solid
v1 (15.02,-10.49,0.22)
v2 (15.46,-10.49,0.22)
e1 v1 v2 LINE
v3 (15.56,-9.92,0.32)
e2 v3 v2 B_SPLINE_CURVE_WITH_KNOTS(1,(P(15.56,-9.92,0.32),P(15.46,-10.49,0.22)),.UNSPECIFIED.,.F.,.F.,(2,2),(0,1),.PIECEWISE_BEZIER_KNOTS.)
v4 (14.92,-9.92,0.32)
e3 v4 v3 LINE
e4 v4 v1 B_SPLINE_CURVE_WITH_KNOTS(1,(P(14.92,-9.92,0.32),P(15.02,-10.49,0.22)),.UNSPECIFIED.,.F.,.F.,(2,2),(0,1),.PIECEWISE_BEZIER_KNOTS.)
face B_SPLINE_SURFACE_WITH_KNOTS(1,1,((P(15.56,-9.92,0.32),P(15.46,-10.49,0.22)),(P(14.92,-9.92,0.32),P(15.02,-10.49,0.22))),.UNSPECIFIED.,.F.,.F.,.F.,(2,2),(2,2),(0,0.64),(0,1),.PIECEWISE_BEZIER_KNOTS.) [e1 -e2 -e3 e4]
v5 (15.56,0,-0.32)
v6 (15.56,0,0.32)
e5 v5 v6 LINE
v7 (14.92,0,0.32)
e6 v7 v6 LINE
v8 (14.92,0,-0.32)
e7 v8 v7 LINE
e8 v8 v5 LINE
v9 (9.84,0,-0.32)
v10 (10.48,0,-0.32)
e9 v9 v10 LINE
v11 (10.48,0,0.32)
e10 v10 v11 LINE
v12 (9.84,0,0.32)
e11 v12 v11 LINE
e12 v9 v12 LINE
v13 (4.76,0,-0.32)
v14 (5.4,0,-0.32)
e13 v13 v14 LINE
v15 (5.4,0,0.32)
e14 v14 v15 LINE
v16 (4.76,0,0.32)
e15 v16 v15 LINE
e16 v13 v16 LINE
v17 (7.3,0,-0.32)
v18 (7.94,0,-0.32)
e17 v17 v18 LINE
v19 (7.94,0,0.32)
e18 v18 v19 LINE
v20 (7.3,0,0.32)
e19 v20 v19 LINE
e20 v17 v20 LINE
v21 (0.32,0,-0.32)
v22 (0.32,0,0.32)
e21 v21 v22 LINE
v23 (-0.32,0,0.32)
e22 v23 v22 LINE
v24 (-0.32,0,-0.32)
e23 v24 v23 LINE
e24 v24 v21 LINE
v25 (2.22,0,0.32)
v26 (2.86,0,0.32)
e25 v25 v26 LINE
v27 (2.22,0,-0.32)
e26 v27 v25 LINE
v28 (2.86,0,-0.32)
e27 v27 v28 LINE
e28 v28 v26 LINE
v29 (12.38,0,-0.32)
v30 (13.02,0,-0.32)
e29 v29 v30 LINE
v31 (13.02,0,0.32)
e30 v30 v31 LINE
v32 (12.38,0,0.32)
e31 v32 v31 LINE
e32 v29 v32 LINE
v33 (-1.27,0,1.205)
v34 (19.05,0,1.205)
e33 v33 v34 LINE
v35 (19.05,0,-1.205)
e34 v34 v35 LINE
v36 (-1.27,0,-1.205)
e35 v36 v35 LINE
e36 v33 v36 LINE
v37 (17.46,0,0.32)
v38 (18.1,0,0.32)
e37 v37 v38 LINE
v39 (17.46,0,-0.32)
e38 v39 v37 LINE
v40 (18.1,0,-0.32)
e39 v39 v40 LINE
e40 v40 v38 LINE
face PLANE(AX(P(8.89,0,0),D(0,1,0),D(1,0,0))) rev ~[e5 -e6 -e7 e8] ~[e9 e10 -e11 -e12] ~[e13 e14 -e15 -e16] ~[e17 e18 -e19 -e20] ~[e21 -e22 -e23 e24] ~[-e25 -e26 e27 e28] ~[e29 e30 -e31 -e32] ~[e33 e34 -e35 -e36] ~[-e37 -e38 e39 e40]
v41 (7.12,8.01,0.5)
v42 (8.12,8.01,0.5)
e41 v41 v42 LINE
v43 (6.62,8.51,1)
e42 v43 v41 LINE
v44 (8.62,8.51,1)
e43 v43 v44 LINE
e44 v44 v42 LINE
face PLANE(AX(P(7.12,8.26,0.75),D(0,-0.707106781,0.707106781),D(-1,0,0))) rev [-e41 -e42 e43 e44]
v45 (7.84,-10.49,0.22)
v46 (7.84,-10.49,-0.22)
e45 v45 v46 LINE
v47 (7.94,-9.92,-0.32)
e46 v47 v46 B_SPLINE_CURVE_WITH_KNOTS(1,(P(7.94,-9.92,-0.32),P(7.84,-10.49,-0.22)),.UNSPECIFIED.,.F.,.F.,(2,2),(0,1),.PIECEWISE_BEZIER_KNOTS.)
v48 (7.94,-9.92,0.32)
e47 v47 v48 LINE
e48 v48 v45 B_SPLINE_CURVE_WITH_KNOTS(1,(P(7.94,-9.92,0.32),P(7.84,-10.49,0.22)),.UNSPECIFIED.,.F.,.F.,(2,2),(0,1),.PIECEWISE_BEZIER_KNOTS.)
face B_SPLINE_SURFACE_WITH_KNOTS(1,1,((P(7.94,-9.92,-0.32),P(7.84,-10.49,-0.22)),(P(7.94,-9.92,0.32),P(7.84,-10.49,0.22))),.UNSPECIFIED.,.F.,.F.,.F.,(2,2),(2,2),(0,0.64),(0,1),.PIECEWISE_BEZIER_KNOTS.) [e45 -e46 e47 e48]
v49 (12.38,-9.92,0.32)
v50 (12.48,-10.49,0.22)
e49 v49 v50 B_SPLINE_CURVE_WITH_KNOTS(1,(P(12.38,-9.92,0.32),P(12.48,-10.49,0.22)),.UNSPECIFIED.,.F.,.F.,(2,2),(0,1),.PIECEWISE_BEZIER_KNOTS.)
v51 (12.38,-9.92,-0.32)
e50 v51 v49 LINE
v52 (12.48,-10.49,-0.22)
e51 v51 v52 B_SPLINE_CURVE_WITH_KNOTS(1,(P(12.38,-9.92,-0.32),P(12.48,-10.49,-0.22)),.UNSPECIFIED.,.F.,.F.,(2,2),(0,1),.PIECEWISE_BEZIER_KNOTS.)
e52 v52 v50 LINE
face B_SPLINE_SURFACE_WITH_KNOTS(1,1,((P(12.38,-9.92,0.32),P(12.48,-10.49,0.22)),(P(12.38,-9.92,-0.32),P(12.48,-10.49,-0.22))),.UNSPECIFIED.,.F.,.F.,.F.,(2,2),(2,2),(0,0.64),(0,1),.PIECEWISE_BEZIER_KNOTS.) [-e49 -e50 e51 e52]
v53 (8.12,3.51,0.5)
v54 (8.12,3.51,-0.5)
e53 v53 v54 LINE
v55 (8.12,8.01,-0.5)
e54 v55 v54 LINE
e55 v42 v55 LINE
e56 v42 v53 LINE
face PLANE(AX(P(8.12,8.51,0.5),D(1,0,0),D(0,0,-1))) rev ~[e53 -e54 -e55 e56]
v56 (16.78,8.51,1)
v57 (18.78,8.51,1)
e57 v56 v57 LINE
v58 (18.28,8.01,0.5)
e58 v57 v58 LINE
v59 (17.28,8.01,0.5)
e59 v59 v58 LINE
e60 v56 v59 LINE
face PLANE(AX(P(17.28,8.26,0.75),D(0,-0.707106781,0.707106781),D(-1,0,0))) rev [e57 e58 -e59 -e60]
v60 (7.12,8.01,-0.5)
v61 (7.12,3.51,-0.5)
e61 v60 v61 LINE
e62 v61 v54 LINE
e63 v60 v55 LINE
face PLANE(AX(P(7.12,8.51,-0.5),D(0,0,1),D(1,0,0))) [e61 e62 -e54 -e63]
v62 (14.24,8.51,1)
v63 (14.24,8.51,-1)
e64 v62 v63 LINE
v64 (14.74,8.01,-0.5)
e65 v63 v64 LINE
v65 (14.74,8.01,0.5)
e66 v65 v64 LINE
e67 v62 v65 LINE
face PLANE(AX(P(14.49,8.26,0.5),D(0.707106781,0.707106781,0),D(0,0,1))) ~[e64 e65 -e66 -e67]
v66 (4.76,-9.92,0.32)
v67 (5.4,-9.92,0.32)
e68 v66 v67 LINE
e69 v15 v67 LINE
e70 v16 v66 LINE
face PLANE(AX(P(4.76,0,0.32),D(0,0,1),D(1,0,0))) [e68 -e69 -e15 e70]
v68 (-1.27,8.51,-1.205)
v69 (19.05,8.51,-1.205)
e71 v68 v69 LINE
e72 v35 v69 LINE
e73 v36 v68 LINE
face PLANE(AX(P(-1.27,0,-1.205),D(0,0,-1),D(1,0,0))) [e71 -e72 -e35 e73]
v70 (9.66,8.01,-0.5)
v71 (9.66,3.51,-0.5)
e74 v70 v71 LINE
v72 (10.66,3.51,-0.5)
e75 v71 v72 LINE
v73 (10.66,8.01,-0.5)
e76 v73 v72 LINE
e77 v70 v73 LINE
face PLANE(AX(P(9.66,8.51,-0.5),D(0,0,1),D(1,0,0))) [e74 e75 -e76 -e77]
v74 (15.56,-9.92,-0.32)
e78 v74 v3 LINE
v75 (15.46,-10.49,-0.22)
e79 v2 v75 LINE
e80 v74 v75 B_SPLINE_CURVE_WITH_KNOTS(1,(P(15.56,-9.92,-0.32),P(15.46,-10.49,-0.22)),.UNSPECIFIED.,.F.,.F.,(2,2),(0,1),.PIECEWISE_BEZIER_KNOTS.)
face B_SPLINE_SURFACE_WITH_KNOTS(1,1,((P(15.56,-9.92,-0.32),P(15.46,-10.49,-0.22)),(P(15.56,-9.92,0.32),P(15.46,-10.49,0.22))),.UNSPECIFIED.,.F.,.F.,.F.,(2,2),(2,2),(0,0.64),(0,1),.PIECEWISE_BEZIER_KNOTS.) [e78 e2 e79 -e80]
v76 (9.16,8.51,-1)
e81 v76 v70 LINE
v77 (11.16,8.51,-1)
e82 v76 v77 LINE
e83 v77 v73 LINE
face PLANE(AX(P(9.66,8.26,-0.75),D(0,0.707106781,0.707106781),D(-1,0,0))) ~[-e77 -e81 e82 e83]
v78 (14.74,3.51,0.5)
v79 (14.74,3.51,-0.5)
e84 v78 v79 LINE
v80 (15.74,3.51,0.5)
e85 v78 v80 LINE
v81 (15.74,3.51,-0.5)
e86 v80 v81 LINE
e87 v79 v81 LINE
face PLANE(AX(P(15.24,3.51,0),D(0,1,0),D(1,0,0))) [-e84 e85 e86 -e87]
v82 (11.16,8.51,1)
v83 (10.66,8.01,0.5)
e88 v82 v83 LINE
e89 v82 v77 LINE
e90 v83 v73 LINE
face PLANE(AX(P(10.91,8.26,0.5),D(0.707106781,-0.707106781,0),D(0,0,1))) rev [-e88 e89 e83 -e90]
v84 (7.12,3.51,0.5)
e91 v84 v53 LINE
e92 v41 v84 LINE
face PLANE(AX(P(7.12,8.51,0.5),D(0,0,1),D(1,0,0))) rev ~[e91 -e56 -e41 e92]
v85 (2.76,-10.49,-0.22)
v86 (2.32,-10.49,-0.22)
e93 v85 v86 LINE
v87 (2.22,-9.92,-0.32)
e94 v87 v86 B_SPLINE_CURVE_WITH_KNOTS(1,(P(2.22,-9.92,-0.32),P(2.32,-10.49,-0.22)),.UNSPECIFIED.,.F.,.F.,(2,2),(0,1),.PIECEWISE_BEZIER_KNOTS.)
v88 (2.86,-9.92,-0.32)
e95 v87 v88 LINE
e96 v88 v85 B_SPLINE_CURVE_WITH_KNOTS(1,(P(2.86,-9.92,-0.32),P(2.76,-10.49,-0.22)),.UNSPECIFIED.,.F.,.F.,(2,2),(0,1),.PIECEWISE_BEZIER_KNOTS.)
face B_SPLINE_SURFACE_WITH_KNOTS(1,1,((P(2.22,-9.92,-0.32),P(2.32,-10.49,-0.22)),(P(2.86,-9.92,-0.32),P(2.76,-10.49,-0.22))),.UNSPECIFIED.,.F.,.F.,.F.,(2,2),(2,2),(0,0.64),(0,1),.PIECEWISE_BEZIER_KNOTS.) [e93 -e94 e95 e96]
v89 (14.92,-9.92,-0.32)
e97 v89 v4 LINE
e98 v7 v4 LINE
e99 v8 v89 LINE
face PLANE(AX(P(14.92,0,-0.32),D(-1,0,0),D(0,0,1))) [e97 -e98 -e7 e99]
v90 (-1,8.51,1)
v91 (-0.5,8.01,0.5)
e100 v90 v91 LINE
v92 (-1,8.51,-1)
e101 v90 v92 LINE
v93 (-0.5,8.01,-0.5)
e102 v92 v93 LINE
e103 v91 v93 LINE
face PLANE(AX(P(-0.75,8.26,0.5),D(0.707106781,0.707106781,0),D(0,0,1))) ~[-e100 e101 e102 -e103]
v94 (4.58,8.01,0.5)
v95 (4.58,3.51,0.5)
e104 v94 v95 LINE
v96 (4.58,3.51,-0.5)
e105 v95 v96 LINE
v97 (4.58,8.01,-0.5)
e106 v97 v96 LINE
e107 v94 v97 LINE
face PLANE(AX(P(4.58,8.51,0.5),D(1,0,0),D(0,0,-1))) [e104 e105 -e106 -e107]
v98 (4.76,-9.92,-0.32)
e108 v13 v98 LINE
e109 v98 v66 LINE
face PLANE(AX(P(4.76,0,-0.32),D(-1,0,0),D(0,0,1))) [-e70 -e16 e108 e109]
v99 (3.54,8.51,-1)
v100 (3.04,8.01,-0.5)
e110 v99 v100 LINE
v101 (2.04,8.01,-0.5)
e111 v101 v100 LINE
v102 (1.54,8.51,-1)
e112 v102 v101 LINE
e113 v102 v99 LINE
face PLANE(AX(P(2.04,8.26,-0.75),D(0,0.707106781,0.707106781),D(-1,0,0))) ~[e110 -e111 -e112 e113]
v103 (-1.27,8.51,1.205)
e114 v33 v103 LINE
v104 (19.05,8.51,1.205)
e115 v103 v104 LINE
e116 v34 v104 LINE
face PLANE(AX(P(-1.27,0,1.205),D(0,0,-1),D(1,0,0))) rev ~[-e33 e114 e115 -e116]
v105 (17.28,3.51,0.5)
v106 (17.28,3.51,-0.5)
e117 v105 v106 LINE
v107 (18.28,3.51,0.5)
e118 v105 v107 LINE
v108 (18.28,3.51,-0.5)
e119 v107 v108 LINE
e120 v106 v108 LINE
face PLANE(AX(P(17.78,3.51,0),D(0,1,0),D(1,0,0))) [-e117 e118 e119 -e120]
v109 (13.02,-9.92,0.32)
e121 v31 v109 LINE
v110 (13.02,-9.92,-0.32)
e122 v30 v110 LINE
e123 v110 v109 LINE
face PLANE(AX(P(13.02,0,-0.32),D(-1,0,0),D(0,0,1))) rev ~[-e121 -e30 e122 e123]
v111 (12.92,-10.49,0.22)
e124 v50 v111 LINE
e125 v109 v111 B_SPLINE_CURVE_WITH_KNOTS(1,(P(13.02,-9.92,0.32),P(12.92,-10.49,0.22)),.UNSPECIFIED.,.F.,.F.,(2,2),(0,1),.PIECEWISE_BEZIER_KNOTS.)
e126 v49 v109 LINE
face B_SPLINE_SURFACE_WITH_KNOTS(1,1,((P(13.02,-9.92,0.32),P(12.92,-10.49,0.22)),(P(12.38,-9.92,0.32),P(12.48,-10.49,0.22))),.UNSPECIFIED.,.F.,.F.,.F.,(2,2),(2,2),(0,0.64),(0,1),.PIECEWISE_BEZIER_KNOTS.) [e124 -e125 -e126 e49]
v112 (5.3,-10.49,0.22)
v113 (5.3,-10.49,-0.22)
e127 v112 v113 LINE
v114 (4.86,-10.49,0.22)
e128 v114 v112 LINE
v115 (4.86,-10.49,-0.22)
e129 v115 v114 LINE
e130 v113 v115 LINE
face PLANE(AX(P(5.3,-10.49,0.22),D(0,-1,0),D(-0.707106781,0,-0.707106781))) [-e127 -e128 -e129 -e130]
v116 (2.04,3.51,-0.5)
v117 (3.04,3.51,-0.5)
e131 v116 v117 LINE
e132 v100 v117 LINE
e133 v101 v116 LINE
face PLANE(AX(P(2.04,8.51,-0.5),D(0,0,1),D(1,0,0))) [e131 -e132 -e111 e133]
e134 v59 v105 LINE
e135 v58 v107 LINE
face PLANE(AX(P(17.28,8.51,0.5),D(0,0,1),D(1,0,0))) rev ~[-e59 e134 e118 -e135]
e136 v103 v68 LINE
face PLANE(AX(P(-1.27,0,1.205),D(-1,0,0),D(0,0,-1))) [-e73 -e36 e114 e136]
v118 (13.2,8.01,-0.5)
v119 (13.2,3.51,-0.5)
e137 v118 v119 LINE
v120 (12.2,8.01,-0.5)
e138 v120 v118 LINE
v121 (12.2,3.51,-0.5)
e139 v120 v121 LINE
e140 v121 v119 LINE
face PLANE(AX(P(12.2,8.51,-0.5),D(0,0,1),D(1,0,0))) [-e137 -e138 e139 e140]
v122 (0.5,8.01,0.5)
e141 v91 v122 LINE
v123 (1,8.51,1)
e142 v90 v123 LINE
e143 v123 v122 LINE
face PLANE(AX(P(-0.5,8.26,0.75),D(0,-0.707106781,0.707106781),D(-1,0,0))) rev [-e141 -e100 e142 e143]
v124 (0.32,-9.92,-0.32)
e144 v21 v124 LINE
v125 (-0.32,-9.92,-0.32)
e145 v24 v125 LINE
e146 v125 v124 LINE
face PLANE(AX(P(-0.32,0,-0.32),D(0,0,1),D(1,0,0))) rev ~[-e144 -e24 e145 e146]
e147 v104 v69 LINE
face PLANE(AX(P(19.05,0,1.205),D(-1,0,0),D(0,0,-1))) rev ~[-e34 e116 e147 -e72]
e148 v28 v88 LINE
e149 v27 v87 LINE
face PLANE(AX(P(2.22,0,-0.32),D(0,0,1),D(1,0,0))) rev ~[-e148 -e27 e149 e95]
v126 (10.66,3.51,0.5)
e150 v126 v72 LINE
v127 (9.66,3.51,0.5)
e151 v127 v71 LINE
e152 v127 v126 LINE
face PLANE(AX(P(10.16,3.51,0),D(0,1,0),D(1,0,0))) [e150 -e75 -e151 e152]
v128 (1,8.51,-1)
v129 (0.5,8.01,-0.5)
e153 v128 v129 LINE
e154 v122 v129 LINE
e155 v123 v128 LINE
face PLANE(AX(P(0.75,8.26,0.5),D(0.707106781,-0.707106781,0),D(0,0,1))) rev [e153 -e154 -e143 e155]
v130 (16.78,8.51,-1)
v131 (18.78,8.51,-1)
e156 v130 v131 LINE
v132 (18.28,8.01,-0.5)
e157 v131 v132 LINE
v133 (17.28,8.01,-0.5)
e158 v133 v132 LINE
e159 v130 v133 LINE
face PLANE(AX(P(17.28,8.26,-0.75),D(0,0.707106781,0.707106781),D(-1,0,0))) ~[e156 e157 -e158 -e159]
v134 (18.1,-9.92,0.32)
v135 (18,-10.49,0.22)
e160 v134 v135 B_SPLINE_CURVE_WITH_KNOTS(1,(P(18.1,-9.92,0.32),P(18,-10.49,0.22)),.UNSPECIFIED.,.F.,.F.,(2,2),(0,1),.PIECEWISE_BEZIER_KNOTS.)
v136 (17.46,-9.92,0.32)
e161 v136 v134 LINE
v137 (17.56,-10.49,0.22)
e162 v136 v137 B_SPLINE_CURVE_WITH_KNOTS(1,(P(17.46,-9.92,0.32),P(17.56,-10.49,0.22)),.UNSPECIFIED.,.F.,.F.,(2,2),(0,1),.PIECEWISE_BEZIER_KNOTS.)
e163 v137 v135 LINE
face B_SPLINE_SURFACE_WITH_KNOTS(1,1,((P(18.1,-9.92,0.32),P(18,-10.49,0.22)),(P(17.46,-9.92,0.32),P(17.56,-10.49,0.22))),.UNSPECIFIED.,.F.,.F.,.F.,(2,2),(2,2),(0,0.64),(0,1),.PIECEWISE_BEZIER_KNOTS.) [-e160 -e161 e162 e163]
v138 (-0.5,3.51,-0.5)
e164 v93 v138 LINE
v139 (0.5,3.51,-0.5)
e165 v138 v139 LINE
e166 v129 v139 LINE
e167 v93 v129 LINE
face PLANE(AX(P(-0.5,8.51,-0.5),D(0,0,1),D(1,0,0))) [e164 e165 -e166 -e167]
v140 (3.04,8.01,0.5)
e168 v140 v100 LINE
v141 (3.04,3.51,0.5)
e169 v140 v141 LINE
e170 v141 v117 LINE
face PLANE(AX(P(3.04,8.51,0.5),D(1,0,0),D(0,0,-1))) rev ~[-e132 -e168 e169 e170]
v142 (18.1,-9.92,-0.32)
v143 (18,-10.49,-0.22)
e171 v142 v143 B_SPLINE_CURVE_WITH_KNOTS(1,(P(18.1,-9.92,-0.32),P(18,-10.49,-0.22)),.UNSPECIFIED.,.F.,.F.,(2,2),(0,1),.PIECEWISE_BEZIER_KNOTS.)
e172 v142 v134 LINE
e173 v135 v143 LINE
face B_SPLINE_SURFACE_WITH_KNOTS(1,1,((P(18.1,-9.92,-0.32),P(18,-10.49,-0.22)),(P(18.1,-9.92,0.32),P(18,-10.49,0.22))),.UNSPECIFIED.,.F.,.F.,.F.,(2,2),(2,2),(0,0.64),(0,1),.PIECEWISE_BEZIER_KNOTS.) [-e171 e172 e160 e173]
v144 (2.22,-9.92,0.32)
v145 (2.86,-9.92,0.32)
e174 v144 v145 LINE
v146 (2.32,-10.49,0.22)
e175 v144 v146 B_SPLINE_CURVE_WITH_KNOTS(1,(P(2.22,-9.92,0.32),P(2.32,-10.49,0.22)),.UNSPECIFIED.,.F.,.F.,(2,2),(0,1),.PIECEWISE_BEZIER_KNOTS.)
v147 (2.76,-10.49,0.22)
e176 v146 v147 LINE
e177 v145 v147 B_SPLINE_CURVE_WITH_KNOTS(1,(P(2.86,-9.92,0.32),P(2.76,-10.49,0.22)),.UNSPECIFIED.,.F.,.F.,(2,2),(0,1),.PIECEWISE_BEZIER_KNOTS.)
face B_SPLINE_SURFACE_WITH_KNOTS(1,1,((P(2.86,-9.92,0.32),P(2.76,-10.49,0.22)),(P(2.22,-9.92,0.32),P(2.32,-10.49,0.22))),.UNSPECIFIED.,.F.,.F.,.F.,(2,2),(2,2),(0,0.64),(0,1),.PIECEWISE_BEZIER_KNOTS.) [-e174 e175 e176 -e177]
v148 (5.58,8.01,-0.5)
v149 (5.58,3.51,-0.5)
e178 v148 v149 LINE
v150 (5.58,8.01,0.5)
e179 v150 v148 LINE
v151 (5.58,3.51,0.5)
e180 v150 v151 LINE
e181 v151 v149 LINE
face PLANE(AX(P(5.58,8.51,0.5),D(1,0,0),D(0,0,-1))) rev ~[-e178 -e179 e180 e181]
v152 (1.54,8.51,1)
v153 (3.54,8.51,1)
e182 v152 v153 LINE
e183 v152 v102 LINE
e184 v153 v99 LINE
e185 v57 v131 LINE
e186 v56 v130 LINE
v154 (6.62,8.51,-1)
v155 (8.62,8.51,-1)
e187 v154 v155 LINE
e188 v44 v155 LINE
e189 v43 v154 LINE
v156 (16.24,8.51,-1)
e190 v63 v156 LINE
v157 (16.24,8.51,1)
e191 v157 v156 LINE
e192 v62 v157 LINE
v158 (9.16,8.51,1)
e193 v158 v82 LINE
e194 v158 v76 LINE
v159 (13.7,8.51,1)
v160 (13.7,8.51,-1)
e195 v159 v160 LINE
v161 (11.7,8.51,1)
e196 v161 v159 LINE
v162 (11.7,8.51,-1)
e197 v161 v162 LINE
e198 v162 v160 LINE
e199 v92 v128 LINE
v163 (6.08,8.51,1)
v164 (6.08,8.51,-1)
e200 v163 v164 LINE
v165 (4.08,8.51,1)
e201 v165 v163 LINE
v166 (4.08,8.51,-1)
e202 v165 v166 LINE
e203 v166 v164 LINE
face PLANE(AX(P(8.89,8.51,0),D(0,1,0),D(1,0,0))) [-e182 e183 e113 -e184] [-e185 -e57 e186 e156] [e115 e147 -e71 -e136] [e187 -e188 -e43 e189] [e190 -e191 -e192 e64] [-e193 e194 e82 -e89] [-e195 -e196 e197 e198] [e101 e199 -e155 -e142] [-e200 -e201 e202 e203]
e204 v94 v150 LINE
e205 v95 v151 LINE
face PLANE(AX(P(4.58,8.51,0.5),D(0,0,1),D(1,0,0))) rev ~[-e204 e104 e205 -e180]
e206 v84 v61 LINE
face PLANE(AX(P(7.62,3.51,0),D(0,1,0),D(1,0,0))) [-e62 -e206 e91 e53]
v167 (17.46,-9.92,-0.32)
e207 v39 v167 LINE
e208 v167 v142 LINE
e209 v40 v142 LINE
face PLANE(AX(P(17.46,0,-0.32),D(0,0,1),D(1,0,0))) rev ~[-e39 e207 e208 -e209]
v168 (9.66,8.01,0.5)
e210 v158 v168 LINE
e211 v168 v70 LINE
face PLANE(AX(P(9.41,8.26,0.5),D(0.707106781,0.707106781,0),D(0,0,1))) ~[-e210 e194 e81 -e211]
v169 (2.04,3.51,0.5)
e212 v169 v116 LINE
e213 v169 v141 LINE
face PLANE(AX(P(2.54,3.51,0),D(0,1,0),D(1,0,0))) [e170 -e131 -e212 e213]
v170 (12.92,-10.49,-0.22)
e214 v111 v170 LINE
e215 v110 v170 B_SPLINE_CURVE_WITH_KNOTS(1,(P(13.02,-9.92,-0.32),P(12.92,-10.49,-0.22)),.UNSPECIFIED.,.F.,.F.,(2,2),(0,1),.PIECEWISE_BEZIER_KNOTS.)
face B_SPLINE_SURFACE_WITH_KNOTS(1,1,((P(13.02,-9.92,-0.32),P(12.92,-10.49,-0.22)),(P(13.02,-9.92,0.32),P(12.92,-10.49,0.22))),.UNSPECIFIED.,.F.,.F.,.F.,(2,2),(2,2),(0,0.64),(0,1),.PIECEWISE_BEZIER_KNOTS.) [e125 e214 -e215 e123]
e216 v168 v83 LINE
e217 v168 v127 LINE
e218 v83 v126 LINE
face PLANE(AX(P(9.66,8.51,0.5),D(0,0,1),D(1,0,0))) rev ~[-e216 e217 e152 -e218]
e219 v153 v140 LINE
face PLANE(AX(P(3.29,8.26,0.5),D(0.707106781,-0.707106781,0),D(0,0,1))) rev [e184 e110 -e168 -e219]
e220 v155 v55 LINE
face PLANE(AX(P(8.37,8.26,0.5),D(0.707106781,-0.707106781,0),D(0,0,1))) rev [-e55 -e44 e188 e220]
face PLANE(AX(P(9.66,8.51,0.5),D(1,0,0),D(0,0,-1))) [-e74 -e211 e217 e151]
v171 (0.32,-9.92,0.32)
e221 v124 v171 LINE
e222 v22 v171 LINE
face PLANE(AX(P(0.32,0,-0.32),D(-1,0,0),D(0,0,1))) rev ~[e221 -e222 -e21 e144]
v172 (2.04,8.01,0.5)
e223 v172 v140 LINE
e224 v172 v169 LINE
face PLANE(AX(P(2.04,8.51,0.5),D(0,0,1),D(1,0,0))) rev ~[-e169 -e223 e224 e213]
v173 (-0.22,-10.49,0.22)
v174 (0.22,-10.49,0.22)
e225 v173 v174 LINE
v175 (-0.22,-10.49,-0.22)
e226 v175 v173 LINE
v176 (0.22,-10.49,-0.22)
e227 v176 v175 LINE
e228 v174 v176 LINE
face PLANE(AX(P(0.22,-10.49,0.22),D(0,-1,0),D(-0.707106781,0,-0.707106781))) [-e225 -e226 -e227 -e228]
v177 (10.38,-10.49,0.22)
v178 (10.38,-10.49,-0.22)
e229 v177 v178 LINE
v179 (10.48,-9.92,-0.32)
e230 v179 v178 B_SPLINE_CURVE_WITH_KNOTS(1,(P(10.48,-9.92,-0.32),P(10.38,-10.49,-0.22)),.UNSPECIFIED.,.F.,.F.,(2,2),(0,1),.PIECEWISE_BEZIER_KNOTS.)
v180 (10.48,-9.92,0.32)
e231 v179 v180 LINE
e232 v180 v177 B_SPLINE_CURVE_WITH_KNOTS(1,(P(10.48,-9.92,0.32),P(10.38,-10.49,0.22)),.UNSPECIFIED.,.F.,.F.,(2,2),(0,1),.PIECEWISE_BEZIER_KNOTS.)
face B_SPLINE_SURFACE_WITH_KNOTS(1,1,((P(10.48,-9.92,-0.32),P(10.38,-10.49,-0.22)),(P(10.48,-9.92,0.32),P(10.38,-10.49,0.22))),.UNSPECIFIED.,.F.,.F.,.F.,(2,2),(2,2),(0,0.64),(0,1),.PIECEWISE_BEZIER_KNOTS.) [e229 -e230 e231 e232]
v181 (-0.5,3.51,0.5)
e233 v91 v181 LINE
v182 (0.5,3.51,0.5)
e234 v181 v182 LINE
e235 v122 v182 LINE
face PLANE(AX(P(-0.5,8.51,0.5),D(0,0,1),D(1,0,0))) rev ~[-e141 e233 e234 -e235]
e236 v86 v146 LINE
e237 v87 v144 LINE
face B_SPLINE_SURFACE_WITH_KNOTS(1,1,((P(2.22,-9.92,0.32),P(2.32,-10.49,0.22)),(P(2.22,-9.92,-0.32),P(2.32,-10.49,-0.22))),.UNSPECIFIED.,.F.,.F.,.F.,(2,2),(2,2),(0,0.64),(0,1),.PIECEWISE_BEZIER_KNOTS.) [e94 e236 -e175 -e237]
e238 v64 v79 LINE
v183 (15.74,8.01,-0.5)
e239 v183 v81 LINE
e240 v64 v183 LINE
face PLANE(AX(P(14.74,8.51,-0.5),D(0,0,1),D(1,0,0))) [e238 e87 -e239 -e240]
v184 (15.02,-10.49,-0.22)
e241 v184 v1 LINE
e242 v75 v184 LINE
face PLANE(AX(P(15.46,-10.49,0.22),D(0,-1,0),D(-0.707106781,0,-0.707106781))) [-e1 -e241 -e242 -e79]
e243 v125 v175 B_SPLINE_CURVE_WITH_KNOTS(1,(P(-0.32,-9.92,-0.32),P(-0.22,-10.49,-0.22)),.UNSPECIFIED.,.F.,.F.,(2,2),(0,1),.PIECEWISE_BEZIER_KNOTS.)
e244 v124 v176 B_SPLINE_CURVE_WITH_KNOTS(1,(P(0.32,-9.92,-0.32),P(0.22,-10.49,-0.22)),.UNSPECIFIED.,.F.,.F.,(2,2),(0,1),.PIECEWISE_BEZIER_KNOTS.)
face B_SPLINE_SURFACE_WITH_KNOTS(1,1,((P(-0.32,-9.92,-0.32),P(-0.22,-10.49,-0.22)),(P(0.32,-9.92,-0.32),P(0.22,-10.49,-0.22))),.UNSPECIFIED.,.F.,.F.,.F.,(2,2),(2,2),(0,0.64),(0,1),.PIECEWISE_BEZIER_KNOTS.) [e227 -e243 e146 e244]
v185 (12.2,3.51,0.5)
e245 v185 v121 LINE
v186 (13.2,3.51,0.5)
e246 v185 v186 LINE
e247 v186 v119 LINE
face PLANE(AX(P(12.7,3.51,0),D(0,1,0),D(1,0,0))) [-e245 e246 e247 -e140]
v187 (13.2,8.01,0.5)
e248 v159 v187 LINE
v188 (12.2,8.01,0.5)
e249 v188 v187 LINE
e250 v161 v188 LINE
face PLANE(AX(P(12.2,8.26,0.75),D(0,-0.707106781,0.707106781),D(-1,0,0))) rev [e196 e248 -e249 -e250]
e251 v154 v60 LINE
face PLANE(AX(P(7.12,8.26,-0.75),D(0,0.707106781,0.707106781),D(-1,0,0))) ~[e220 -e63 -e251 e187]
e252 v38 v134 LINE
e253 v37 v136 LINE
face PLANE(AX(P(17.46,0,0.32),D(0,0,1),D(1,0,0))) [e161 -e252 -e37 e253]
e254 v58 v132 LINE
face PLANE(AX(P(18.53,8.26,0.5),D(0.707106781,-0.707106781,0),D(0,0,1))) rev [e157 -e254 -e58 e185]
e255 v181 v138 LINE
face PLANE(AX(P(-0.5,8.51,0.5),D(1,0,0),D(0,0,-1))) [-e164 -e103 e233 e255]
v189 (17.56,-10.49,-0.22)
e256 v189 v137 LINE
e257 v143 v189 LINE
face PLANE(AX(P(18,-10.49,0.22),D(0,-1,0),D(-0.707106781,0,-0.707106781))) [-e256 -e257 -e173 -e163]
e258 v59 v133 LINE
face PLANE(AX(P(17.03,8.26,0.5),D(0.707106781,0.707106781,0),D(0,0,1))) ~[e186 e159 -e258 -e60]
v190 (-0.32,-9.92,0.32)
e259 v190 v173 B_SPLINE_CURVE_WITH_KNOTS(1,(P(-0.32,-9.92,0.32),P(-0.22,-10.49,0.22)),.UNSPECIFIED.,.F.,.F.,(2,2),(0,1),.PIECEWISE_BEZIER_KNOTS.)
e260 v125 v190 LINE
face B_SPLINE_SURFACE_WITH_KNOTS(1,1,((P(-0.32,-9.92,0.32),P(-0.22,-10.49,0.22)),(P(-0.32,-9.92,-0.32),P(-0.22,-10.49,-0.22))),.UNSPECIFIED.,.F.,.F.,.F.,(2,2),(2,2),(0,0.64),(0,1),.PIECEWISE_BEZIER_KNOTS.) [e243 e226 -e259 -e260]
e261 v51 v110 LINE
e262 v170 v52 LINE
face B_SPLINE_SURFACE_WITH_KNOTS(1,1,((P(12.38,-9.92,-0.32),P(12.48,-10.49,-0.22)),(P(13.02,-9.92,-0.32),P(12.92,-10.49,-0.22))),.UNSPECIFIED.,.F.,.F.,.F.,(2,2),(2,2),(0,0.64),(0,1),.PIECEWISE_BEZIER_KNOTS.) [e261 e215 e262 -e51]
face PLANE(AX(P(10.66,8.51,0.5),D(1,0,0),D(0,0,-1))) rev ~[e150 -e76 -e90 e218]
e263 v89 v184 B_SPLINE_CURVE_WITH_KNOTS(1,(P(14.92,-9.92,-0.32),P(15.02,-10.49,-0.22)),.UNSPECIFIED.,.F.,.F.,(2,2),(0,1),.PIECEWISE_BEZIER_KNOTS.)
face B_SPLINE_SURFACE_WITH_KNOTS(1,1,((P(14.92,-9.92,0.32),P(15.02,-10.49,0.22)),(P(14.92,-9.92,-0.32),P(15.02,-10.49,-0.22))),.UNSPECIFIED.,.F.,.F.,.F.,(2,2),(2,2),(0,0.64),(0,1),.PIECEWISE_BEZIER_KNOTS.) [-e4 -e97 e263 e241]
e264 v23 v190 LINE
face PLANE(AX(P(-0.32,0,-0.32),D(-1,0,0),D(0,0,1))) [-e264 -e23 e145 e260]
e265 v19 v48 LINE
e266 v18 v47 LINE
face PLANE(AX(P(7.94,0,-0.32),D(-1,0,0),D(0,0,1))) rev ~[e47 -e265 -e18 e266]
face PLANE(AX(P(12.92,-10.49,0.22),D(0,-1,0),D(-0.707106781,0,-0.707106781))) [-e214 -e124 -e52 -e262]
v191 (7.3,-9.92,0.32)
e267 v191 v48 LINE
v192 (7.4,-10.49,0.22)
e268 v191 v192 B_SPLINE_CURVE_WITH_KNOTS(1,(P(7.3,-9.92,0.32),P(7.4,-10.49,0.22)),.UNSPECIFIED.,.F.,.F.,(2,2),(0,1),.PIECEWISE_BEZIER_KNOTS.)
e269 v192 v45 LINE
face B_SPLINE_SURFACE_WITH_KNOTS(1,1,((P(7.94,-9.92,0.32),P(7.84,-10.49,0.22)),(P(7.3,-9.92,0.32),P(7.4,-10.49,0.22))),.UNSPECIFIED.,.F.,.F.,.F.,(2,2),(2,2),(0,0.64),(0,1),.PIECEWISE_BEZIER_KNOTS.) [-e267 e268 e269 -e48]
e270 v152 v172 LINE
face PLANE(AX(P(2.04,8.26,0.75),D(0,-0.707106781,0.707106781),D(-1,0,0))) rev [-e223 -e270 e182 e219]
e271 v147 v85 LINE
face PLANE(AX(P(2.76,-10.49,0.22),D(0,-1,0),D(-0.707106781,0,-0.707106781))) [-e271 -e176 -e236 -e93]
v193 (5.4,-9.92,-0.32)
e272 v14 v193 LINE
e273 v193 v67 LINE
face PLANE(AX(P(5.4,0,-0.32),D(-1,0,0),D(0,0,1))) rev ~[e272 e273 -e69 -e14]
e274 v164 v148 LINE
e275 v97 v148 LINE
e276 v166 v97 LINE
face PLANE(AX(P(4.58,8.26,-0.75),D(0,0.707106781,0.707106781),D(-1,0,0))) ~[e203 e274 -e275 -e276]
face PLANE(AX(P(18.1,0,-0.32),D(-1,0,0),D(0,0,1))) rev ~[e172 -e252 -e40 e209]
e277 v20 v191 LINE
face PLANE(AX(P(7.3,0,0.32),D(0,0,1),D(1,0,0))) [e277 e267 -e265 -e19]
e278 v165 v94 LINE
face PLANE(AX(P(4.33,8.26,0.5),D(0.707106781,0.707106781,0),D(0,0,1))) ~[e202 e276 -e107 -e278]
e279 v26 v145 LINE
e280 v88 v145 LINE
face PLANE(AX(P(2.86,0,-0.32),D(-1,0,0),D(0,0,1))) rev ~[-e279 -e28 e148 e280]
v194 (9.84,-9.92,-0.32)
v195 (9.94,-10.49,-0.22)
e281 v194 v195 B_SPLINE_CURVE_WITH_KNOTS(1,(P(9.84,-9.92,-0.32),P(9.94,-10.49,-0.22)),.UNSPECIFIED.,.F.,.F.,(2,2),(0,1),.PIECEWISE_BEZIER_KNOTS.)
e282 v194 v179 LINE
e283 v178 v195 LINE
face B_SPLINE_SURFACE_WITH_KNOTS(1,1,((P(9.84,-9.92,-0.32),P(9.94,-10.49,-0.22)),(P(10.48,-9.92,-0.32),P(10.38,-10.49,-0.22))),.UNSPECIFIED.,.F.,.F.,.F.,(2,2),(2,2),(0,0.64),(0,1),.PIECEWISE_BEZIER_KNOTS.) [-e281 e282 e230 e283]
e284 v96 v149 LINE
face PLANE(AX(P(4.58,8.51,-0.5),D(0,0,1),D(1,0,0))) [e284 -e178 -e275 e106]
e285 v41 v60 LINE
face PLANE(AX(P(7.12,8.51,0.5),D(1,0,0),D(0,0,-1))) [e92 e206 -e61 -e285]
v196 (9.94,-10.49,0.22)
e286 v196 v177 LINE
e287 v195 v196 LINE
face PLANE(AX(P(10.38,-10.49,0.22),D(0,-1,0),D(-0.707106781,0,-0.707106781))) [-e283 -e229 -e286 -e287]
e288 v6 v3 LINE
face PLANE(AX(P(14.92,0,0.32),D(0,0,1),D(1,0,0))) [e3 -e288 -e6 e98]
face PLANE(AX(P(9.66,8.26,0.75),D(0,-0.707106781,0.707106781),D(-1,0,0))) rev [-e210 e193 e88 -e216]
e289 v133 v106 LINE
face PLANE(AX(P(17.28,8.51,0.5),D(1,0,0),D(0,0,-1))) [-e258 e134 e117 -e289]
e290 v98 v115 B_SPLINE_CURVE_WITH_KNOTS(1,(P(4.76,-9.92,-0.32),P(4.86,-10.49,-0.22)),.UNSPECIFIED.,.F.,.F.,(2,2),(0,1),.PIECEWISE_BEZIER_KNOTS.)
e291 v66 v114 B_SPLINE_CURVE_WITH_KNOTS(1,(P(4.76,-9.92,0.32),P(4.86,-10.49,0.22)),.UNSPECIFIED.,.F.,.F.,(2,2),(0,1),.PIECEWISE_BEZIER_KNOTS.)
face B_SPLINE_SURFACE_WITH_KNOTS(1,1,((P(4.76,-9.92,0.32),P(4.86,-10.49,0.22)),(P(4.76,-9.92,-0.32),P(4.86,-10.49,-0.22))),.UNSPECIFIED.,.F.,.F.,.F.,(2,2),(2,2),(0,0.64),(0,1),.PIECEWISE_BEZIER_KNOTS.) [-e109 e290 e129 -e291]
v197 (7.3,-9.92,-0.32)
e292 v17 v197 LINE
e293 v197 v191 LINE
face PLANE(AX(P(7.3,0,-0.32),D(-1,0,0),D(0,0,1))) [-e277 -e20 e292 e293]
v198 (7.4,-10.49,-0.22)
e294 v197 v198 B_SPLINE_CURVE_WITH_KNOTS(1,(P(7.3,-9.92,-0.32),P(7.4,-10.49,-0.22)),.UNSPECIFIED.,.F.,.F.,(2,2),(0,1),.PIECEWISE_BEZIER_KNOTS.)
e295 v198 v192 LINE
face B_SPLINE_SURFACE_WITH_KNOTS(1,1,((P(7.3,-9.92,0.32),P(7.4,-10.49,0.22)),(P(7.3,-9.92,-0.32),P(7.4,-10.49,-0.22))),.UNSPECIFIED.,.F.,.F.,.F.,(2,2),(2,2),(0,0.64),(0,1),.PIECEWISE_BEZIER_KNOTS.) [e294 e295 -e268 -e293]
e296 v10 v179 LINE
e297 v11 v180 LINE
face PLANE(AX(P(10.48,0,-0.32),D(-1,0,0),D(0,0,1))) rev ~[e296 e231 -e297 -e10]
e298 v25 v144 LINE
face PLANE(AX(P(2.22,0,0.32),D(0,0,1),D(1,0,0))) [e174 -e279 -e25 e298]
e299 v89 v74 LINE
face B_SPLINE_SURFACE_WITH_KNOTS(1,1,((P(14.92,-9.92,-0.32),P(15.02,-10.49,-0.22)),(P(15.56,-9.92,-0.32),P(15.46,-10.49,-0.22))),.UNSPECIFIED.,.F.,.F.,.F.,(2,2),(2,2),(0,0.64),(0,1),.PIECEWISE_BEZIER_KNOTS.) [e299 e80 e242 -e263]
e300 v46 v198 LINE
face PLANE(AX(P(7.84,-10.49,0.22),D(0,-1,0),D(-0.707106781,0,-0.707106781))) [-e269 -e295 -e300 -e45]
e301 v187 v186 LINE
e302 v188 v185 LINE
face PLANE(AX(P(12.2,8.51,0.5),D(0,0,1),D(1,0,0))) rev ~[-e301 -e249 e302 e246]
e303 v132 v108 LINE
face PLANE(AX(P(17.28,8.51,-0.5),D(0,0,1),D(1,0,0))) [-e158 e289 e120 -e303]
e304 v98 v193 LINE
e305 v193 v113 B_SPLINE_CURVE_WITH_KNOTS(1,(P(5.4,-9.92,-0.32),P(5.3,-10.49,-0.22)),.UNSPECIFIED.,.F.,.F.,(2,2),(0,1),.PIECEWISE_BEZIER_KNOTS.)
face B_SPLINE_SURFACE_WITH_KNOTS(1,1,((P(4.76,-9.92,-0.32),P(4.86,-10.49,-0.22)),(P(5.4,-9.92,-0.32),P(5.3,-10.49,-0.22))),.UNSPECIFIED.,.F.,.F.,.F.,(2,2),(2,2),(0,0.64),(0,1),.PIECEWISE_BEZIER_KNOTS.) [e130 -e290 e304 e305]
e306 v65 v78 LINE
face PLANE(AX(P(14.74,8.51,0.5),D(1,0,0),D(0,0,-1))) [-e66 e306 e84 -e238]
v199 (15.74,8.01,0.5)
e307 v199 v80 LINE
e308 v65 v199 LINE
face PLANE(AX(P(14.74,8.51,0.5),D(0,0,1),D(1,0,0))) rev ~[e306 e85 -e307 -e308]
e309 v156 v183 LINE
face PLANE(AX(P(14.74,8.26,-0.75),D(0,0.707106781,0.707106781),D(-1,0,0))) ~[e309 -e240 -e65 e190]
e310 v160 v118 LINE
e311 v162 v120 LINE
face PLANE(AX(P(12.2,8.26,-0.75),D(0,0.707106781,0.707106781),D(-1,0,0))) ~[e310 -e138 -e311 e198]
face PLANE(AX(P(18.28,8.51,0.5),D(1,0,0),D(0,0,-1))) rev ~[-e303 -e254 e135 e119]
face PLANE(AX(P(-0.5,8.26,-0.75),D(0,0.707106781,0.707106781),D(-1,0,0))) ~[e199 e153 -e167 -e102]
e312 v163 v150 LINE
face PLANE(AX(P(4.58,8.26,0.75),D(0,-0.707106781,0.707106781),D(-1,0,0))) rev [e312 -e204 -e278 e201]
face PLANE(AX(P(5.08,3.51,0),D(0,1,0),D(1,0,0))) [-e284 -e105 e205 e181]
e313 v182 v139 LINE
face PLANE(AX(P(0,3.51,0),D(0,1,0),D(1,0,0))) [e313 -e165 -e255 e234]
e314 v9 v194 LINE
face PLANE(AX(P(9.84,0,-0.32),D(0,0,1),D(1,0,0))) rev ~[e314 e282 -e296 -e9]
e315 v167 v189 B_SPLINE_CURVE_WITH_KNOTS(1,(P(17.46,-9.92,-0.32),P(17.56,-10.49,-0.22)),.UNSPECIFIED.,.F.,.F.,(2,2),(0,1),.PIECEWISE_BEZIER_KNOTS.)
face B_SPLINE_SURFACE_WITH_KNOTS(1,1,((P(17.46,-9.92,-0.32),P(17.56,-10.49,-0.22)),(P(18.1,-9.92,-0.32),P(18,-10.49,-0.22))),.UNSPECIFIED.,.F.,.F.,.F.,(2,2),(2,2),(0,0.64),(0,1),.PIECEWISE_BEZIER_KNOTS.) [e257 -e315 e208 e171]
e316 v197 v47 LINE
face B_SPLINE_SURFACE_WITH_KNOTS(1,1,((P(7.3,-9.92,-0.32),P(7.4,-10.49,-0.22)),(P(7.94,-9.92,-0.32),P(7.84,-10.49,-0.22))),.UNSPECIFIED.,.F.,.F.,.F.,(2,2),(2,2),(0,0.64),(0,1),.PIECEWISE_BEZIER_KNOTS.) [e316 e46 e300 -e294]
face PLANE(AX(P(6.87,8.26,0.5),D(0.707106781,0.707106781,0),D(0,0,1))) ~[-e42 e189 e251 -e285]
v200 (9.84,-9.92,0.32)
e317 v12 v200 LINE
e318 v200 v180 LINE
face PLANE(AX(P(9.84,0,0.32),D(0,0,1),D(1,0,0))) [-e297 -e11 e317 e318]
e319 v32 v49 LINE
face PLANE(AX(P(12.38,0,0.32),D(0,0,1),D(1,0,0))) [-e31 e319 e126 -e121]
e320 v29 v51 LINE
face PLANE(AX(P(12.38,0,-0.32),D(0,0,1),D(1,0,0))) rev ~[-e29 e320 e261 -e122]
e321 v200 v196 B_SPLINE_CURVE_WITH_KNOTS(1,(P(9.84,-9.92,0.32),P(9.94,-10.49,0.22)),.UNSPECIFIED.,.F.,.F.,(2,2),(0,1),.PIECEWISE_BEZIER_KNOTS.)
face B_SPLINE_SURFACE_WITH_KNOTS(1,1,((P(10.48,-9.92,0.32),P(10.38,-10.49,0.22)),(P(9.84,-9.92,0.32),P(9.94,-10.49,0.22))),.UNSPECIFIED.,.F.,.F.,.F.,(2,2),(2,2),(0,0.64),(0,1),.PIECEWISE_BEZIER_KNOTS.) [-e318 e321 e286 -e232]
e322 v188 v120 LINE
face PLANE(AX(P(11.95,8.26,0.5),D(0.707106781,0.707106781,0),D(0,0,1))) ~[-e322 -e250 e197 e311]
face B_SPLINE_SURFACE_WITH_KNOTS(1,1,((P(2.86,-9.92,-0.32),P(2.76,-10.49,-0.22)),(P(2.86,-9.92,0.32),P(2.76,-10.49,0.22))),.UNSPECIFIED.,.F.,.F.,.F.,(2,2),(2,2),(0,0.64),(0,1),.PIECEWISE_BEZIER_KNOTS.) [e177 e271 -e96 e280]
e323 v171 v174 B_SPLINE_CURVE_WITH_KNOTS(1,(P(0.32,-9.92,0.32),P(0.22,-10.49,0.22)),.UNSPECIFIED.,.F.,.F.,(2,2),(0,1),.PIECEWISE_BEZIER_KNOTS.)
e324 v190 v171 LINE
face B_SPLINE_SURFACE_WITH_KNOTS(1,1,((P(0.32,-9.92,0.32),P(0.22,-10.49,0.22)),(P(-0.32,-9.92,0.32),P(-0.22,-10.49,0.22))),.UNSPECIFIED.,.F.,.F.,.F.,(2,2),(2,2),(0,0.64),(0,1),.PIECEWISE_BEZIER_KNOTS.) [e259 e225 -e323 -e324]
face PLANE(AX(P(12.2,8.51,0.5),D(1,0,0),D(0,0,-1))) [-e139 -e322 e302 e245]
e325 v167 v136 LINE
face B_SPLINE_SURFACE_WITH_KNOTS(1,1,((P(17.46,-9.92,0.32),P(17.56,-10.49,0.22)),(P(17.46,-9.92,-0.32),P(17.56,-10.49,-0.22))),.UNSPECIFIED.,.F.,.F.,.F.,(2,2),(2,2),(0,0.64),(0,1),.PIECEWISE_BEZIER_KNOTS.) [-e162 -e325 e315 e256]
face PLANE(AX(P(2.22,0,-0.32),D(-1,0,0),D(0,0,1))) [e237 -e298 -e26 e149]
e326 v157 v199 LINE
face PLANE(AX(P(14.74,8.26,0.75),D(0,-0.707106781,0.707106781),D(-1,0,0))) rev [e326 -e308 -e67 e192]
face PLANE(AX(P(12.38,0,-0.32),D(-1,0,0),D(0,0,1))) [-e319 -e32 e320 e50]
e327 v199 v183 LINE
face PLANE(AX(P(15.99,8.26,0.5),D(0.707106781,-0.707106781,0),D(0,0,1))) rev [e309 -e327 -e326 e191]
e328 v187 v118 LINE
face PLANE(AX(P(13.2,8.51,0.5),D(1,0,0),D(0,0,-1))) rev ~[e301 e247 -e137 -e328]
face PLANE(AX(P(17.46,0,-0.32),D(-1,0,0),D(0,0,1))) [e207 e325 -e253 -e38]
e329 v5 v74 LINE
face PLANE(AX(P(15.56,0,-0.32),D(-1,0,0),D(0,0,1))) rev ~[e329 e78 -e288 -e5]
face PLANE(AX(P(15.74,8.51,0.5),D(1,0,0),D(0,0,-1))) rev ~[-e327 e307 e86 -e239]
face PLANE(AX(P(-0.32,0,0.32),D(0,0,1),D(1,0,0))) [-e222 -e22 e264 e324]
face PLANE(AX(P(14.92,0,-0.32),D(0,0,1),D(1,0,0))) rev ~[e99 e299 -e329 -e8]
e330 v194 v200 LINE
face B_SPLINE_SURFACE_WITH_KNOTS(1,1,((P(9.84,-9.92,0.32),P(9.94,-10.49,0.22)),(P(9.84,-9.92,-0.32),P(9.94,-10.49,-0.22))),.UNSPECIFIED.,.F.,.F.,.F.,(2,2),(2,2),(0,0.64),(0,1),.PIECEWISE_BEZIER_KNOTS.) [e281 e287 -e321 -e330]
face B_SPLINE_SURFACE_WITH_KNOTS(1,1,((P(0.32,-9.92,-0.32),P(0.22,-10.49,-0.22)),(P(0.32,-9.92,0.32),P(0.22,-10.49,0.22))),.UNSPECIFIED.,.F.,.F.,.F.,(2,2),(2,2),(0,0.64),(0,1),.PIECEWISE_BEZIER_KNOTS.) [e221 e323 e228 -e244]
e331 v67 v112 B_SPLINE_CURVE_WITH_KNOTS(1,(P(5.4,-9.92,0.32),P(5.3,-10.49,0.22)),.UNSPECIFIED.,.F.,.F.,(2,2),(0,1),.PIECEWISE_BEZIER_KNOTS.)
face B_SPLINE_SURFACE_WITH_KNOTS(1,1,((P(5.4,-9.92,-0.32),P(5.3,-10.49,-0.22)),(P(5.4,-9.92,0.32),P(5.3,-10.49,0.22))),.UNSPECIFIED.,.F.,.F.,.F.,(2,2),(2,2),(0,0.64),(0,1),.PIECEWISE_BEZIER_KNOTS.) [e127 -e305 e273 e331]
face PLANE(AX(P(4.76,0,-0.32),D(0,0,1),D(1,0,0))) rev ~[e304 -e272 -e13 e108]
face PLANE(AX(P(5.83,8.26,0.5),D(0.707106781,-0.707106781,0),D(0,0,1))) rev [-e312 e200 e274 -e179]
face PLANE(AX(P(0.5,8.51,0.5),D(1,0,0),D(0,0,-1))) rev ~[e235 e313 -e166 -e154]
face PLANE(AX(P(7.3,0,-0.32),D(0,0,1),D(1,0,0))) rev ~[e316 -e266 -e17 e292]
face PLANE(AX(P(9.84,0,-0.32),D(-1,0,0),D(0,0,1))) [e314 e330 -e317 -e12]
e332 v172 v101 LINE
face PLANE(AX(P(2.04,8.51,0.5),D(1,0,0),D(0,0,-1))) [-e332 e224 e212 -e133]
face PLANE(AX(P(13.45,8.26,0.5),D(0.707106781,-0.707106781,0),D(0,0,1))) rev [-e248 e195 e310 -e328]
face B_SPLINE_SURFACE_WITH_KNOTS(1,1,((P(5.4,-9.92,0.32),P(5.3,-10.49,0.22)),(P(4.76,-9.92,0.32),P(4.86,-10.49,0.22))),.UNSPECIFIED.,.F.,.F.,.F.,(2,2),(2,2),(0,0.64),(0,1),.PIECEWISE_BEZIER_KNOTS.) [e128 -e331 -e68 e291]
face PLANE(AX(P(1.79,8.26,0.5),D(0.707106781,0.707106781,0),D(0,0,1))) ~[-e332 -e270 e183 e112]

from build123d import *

# Parameters (mm, degrees)
SKETCH2_W                  = 20.32
SKETCH2_H                  = 2.41
BOSS_EXTRUDE1_DEPTH        = 8.51
SKETCH5_W                  = 1
SKETCH5_H                  = 1
CUT_EXTRUDE1_DEPTH         = 5
CHAMFER1_SIZE              = 0.5
LPATTERN3_COUNT            = 8
LPATTERN3_PITCH            = 2.54
CHAMFER1_OF_LPATTERN3_SIZE = 0.5
SKETCH11_W                 = 0.64
SKETCH11_H                 = 0.64
BOSS_EXTRUDE2_DEPTH        = 9.92
LPATTERN4_COUNT            = 8
LPATTERN4_PITCH            = 2.54


with BuildPart() as part:
    # Sketch2 → Boss-Extrude1 (new body)
    with BuildSketch(Plane(origin=(0, 0, 0), x_dir=(1, 0, 0), z_dir=(0, 1, 0))):
        with Locations((8.89, 0)):
            Rectangle(SKETCH2_W, SKETCH2_H)
    extrude(amount=BOSS_EXTRUDE1_DEPTH)

    # Sketch5 → Cut-Extrude1 (cut)
    with BuildSketch(Plane(origin=(0, 8.51, 0), x_dir=(1, 0, 0), z_dir=(0, 1, 0))):
        Rectangle(SKETCH5_W, SKETCH5_H)
    cut_extrude1 = extrude(amount=-CUT_EXTRUDE1_DEPTH, mode=Mode.SUBTRACT)

    # Chamfer1
    chamfer1_edges = [part.edges().sort_by_distance(p)[0] for p in [
        (0.5, 8.51, 0),
        (0, 8.51, -0.5),
        (-0.5, 8.51, 0),
        (0, 8.51, 0.5),
    ]]
    chamfer(chamfer1_edges, length=CHAMFER1_SIZE)

    # LPattern3: Cut-Extrude1 ×8
    with Locations(*[(i * LPATTERN3_PITCH, 0, 0) for i in range(1, LPATTERN3_COUNT)]):
        add(cut_extrude1, mode=Mode.SUBTRACT)

    # Chamfer1 of LPattern3
    chamfer1_of_lpattern3_edges = [part.edges().sort_by_distance(p)[0] for p in [
        (3.04, 8.51, 0),
        (2.54, 8.51, -0.5),
        (2.04, 8.51, 0),
        (2.54, 8.51, 0.5),
        (5.58, 8.51, 0),
        (5.08, 8.51, -0.5),
        (4.58, 8.51, 0),
        (5.08, 8.51, 0.5),
        (8.12, 8.51, 0),
        (7.62, 8.51, -0.5),
        (7.12, 8.51, 0),
        (7.62, 8.51, 0.5),
        (10.66, 8.51, 0),
        (10.16, 8.51, -0.5),
        (9.66, 8.51, 0),
        (10.16, 8.51, 0.5),
        (13.2, 8.51, 0),
        (12.7, 8.51, -0.5),
        (12.2, 8.51, 0),
        (12.7, 8.51, 0.5),
        (15.74, 8.51, 0),
        (15.24, 8.51, -0.5),
        (14.74, 8.51, 0),
        (15.24, 8.51, 0.5),
        (18.28, 8.51, 0),
        (17.78, 8.51, -0.5),
        (17.28, 8.51, 0),
        (17.78, 8.51, 0.5),
    ]]
    chamfer(chamfer1_of_lpattern3_edges, length=CHAMFER1_OF_LPATTERN3_SIZE)

    # Sketch11 → Boss-Extrude2 (add)
    with BuildSketch(Plane.XZ):
        Rectangle(SKETCH11_W, SKETCH11_H)
    boss_extrude2 = extrude(amount=BOSS_EXTRUDE2_DEPTH)

    # Sketch13 → Loft1 section 0
    with BuildSketch(Plane.XZ.offset(9.92)):
        with BuildLine():
            Line((0.32, -0.32), (0.32, 0.32))
            Line((0.32, 0.32), (-0.32, 0.32))
            Line((-0.32, 0.32), (-0.32, -0.32))
            Line((-0.32, -0.32), (0.32, -0.32))
        make_face()
    # Sketch14 → Loft1 section 1
    with BuildSketch(Plane(origin=(0, -10.49, 0), x_dir=(-1, 0, 0), z_dir=(0, -1, 0))):
        with BuildLine():
            Line((-0.22, 0.22), (0.22, 0.22))
            Line((0.22, 0.22), (0.22, -0.22))
            Line((0.22, -0.22), (-0.22, -0.22))
            Line((-0.22, -0.22), (-0.22, 0.22))
        make_face()
    loft1 = loft()

    # LPattern4: Boss-Extrude2, Loft1 ×8
    with Locations(*[(i * LPATTERN4_PITCH, 0, 0) for i in range(1, LPATTERN4_COUNT)]):
        add(boss_extrude2)
        add(loft1)


solid = part.part
